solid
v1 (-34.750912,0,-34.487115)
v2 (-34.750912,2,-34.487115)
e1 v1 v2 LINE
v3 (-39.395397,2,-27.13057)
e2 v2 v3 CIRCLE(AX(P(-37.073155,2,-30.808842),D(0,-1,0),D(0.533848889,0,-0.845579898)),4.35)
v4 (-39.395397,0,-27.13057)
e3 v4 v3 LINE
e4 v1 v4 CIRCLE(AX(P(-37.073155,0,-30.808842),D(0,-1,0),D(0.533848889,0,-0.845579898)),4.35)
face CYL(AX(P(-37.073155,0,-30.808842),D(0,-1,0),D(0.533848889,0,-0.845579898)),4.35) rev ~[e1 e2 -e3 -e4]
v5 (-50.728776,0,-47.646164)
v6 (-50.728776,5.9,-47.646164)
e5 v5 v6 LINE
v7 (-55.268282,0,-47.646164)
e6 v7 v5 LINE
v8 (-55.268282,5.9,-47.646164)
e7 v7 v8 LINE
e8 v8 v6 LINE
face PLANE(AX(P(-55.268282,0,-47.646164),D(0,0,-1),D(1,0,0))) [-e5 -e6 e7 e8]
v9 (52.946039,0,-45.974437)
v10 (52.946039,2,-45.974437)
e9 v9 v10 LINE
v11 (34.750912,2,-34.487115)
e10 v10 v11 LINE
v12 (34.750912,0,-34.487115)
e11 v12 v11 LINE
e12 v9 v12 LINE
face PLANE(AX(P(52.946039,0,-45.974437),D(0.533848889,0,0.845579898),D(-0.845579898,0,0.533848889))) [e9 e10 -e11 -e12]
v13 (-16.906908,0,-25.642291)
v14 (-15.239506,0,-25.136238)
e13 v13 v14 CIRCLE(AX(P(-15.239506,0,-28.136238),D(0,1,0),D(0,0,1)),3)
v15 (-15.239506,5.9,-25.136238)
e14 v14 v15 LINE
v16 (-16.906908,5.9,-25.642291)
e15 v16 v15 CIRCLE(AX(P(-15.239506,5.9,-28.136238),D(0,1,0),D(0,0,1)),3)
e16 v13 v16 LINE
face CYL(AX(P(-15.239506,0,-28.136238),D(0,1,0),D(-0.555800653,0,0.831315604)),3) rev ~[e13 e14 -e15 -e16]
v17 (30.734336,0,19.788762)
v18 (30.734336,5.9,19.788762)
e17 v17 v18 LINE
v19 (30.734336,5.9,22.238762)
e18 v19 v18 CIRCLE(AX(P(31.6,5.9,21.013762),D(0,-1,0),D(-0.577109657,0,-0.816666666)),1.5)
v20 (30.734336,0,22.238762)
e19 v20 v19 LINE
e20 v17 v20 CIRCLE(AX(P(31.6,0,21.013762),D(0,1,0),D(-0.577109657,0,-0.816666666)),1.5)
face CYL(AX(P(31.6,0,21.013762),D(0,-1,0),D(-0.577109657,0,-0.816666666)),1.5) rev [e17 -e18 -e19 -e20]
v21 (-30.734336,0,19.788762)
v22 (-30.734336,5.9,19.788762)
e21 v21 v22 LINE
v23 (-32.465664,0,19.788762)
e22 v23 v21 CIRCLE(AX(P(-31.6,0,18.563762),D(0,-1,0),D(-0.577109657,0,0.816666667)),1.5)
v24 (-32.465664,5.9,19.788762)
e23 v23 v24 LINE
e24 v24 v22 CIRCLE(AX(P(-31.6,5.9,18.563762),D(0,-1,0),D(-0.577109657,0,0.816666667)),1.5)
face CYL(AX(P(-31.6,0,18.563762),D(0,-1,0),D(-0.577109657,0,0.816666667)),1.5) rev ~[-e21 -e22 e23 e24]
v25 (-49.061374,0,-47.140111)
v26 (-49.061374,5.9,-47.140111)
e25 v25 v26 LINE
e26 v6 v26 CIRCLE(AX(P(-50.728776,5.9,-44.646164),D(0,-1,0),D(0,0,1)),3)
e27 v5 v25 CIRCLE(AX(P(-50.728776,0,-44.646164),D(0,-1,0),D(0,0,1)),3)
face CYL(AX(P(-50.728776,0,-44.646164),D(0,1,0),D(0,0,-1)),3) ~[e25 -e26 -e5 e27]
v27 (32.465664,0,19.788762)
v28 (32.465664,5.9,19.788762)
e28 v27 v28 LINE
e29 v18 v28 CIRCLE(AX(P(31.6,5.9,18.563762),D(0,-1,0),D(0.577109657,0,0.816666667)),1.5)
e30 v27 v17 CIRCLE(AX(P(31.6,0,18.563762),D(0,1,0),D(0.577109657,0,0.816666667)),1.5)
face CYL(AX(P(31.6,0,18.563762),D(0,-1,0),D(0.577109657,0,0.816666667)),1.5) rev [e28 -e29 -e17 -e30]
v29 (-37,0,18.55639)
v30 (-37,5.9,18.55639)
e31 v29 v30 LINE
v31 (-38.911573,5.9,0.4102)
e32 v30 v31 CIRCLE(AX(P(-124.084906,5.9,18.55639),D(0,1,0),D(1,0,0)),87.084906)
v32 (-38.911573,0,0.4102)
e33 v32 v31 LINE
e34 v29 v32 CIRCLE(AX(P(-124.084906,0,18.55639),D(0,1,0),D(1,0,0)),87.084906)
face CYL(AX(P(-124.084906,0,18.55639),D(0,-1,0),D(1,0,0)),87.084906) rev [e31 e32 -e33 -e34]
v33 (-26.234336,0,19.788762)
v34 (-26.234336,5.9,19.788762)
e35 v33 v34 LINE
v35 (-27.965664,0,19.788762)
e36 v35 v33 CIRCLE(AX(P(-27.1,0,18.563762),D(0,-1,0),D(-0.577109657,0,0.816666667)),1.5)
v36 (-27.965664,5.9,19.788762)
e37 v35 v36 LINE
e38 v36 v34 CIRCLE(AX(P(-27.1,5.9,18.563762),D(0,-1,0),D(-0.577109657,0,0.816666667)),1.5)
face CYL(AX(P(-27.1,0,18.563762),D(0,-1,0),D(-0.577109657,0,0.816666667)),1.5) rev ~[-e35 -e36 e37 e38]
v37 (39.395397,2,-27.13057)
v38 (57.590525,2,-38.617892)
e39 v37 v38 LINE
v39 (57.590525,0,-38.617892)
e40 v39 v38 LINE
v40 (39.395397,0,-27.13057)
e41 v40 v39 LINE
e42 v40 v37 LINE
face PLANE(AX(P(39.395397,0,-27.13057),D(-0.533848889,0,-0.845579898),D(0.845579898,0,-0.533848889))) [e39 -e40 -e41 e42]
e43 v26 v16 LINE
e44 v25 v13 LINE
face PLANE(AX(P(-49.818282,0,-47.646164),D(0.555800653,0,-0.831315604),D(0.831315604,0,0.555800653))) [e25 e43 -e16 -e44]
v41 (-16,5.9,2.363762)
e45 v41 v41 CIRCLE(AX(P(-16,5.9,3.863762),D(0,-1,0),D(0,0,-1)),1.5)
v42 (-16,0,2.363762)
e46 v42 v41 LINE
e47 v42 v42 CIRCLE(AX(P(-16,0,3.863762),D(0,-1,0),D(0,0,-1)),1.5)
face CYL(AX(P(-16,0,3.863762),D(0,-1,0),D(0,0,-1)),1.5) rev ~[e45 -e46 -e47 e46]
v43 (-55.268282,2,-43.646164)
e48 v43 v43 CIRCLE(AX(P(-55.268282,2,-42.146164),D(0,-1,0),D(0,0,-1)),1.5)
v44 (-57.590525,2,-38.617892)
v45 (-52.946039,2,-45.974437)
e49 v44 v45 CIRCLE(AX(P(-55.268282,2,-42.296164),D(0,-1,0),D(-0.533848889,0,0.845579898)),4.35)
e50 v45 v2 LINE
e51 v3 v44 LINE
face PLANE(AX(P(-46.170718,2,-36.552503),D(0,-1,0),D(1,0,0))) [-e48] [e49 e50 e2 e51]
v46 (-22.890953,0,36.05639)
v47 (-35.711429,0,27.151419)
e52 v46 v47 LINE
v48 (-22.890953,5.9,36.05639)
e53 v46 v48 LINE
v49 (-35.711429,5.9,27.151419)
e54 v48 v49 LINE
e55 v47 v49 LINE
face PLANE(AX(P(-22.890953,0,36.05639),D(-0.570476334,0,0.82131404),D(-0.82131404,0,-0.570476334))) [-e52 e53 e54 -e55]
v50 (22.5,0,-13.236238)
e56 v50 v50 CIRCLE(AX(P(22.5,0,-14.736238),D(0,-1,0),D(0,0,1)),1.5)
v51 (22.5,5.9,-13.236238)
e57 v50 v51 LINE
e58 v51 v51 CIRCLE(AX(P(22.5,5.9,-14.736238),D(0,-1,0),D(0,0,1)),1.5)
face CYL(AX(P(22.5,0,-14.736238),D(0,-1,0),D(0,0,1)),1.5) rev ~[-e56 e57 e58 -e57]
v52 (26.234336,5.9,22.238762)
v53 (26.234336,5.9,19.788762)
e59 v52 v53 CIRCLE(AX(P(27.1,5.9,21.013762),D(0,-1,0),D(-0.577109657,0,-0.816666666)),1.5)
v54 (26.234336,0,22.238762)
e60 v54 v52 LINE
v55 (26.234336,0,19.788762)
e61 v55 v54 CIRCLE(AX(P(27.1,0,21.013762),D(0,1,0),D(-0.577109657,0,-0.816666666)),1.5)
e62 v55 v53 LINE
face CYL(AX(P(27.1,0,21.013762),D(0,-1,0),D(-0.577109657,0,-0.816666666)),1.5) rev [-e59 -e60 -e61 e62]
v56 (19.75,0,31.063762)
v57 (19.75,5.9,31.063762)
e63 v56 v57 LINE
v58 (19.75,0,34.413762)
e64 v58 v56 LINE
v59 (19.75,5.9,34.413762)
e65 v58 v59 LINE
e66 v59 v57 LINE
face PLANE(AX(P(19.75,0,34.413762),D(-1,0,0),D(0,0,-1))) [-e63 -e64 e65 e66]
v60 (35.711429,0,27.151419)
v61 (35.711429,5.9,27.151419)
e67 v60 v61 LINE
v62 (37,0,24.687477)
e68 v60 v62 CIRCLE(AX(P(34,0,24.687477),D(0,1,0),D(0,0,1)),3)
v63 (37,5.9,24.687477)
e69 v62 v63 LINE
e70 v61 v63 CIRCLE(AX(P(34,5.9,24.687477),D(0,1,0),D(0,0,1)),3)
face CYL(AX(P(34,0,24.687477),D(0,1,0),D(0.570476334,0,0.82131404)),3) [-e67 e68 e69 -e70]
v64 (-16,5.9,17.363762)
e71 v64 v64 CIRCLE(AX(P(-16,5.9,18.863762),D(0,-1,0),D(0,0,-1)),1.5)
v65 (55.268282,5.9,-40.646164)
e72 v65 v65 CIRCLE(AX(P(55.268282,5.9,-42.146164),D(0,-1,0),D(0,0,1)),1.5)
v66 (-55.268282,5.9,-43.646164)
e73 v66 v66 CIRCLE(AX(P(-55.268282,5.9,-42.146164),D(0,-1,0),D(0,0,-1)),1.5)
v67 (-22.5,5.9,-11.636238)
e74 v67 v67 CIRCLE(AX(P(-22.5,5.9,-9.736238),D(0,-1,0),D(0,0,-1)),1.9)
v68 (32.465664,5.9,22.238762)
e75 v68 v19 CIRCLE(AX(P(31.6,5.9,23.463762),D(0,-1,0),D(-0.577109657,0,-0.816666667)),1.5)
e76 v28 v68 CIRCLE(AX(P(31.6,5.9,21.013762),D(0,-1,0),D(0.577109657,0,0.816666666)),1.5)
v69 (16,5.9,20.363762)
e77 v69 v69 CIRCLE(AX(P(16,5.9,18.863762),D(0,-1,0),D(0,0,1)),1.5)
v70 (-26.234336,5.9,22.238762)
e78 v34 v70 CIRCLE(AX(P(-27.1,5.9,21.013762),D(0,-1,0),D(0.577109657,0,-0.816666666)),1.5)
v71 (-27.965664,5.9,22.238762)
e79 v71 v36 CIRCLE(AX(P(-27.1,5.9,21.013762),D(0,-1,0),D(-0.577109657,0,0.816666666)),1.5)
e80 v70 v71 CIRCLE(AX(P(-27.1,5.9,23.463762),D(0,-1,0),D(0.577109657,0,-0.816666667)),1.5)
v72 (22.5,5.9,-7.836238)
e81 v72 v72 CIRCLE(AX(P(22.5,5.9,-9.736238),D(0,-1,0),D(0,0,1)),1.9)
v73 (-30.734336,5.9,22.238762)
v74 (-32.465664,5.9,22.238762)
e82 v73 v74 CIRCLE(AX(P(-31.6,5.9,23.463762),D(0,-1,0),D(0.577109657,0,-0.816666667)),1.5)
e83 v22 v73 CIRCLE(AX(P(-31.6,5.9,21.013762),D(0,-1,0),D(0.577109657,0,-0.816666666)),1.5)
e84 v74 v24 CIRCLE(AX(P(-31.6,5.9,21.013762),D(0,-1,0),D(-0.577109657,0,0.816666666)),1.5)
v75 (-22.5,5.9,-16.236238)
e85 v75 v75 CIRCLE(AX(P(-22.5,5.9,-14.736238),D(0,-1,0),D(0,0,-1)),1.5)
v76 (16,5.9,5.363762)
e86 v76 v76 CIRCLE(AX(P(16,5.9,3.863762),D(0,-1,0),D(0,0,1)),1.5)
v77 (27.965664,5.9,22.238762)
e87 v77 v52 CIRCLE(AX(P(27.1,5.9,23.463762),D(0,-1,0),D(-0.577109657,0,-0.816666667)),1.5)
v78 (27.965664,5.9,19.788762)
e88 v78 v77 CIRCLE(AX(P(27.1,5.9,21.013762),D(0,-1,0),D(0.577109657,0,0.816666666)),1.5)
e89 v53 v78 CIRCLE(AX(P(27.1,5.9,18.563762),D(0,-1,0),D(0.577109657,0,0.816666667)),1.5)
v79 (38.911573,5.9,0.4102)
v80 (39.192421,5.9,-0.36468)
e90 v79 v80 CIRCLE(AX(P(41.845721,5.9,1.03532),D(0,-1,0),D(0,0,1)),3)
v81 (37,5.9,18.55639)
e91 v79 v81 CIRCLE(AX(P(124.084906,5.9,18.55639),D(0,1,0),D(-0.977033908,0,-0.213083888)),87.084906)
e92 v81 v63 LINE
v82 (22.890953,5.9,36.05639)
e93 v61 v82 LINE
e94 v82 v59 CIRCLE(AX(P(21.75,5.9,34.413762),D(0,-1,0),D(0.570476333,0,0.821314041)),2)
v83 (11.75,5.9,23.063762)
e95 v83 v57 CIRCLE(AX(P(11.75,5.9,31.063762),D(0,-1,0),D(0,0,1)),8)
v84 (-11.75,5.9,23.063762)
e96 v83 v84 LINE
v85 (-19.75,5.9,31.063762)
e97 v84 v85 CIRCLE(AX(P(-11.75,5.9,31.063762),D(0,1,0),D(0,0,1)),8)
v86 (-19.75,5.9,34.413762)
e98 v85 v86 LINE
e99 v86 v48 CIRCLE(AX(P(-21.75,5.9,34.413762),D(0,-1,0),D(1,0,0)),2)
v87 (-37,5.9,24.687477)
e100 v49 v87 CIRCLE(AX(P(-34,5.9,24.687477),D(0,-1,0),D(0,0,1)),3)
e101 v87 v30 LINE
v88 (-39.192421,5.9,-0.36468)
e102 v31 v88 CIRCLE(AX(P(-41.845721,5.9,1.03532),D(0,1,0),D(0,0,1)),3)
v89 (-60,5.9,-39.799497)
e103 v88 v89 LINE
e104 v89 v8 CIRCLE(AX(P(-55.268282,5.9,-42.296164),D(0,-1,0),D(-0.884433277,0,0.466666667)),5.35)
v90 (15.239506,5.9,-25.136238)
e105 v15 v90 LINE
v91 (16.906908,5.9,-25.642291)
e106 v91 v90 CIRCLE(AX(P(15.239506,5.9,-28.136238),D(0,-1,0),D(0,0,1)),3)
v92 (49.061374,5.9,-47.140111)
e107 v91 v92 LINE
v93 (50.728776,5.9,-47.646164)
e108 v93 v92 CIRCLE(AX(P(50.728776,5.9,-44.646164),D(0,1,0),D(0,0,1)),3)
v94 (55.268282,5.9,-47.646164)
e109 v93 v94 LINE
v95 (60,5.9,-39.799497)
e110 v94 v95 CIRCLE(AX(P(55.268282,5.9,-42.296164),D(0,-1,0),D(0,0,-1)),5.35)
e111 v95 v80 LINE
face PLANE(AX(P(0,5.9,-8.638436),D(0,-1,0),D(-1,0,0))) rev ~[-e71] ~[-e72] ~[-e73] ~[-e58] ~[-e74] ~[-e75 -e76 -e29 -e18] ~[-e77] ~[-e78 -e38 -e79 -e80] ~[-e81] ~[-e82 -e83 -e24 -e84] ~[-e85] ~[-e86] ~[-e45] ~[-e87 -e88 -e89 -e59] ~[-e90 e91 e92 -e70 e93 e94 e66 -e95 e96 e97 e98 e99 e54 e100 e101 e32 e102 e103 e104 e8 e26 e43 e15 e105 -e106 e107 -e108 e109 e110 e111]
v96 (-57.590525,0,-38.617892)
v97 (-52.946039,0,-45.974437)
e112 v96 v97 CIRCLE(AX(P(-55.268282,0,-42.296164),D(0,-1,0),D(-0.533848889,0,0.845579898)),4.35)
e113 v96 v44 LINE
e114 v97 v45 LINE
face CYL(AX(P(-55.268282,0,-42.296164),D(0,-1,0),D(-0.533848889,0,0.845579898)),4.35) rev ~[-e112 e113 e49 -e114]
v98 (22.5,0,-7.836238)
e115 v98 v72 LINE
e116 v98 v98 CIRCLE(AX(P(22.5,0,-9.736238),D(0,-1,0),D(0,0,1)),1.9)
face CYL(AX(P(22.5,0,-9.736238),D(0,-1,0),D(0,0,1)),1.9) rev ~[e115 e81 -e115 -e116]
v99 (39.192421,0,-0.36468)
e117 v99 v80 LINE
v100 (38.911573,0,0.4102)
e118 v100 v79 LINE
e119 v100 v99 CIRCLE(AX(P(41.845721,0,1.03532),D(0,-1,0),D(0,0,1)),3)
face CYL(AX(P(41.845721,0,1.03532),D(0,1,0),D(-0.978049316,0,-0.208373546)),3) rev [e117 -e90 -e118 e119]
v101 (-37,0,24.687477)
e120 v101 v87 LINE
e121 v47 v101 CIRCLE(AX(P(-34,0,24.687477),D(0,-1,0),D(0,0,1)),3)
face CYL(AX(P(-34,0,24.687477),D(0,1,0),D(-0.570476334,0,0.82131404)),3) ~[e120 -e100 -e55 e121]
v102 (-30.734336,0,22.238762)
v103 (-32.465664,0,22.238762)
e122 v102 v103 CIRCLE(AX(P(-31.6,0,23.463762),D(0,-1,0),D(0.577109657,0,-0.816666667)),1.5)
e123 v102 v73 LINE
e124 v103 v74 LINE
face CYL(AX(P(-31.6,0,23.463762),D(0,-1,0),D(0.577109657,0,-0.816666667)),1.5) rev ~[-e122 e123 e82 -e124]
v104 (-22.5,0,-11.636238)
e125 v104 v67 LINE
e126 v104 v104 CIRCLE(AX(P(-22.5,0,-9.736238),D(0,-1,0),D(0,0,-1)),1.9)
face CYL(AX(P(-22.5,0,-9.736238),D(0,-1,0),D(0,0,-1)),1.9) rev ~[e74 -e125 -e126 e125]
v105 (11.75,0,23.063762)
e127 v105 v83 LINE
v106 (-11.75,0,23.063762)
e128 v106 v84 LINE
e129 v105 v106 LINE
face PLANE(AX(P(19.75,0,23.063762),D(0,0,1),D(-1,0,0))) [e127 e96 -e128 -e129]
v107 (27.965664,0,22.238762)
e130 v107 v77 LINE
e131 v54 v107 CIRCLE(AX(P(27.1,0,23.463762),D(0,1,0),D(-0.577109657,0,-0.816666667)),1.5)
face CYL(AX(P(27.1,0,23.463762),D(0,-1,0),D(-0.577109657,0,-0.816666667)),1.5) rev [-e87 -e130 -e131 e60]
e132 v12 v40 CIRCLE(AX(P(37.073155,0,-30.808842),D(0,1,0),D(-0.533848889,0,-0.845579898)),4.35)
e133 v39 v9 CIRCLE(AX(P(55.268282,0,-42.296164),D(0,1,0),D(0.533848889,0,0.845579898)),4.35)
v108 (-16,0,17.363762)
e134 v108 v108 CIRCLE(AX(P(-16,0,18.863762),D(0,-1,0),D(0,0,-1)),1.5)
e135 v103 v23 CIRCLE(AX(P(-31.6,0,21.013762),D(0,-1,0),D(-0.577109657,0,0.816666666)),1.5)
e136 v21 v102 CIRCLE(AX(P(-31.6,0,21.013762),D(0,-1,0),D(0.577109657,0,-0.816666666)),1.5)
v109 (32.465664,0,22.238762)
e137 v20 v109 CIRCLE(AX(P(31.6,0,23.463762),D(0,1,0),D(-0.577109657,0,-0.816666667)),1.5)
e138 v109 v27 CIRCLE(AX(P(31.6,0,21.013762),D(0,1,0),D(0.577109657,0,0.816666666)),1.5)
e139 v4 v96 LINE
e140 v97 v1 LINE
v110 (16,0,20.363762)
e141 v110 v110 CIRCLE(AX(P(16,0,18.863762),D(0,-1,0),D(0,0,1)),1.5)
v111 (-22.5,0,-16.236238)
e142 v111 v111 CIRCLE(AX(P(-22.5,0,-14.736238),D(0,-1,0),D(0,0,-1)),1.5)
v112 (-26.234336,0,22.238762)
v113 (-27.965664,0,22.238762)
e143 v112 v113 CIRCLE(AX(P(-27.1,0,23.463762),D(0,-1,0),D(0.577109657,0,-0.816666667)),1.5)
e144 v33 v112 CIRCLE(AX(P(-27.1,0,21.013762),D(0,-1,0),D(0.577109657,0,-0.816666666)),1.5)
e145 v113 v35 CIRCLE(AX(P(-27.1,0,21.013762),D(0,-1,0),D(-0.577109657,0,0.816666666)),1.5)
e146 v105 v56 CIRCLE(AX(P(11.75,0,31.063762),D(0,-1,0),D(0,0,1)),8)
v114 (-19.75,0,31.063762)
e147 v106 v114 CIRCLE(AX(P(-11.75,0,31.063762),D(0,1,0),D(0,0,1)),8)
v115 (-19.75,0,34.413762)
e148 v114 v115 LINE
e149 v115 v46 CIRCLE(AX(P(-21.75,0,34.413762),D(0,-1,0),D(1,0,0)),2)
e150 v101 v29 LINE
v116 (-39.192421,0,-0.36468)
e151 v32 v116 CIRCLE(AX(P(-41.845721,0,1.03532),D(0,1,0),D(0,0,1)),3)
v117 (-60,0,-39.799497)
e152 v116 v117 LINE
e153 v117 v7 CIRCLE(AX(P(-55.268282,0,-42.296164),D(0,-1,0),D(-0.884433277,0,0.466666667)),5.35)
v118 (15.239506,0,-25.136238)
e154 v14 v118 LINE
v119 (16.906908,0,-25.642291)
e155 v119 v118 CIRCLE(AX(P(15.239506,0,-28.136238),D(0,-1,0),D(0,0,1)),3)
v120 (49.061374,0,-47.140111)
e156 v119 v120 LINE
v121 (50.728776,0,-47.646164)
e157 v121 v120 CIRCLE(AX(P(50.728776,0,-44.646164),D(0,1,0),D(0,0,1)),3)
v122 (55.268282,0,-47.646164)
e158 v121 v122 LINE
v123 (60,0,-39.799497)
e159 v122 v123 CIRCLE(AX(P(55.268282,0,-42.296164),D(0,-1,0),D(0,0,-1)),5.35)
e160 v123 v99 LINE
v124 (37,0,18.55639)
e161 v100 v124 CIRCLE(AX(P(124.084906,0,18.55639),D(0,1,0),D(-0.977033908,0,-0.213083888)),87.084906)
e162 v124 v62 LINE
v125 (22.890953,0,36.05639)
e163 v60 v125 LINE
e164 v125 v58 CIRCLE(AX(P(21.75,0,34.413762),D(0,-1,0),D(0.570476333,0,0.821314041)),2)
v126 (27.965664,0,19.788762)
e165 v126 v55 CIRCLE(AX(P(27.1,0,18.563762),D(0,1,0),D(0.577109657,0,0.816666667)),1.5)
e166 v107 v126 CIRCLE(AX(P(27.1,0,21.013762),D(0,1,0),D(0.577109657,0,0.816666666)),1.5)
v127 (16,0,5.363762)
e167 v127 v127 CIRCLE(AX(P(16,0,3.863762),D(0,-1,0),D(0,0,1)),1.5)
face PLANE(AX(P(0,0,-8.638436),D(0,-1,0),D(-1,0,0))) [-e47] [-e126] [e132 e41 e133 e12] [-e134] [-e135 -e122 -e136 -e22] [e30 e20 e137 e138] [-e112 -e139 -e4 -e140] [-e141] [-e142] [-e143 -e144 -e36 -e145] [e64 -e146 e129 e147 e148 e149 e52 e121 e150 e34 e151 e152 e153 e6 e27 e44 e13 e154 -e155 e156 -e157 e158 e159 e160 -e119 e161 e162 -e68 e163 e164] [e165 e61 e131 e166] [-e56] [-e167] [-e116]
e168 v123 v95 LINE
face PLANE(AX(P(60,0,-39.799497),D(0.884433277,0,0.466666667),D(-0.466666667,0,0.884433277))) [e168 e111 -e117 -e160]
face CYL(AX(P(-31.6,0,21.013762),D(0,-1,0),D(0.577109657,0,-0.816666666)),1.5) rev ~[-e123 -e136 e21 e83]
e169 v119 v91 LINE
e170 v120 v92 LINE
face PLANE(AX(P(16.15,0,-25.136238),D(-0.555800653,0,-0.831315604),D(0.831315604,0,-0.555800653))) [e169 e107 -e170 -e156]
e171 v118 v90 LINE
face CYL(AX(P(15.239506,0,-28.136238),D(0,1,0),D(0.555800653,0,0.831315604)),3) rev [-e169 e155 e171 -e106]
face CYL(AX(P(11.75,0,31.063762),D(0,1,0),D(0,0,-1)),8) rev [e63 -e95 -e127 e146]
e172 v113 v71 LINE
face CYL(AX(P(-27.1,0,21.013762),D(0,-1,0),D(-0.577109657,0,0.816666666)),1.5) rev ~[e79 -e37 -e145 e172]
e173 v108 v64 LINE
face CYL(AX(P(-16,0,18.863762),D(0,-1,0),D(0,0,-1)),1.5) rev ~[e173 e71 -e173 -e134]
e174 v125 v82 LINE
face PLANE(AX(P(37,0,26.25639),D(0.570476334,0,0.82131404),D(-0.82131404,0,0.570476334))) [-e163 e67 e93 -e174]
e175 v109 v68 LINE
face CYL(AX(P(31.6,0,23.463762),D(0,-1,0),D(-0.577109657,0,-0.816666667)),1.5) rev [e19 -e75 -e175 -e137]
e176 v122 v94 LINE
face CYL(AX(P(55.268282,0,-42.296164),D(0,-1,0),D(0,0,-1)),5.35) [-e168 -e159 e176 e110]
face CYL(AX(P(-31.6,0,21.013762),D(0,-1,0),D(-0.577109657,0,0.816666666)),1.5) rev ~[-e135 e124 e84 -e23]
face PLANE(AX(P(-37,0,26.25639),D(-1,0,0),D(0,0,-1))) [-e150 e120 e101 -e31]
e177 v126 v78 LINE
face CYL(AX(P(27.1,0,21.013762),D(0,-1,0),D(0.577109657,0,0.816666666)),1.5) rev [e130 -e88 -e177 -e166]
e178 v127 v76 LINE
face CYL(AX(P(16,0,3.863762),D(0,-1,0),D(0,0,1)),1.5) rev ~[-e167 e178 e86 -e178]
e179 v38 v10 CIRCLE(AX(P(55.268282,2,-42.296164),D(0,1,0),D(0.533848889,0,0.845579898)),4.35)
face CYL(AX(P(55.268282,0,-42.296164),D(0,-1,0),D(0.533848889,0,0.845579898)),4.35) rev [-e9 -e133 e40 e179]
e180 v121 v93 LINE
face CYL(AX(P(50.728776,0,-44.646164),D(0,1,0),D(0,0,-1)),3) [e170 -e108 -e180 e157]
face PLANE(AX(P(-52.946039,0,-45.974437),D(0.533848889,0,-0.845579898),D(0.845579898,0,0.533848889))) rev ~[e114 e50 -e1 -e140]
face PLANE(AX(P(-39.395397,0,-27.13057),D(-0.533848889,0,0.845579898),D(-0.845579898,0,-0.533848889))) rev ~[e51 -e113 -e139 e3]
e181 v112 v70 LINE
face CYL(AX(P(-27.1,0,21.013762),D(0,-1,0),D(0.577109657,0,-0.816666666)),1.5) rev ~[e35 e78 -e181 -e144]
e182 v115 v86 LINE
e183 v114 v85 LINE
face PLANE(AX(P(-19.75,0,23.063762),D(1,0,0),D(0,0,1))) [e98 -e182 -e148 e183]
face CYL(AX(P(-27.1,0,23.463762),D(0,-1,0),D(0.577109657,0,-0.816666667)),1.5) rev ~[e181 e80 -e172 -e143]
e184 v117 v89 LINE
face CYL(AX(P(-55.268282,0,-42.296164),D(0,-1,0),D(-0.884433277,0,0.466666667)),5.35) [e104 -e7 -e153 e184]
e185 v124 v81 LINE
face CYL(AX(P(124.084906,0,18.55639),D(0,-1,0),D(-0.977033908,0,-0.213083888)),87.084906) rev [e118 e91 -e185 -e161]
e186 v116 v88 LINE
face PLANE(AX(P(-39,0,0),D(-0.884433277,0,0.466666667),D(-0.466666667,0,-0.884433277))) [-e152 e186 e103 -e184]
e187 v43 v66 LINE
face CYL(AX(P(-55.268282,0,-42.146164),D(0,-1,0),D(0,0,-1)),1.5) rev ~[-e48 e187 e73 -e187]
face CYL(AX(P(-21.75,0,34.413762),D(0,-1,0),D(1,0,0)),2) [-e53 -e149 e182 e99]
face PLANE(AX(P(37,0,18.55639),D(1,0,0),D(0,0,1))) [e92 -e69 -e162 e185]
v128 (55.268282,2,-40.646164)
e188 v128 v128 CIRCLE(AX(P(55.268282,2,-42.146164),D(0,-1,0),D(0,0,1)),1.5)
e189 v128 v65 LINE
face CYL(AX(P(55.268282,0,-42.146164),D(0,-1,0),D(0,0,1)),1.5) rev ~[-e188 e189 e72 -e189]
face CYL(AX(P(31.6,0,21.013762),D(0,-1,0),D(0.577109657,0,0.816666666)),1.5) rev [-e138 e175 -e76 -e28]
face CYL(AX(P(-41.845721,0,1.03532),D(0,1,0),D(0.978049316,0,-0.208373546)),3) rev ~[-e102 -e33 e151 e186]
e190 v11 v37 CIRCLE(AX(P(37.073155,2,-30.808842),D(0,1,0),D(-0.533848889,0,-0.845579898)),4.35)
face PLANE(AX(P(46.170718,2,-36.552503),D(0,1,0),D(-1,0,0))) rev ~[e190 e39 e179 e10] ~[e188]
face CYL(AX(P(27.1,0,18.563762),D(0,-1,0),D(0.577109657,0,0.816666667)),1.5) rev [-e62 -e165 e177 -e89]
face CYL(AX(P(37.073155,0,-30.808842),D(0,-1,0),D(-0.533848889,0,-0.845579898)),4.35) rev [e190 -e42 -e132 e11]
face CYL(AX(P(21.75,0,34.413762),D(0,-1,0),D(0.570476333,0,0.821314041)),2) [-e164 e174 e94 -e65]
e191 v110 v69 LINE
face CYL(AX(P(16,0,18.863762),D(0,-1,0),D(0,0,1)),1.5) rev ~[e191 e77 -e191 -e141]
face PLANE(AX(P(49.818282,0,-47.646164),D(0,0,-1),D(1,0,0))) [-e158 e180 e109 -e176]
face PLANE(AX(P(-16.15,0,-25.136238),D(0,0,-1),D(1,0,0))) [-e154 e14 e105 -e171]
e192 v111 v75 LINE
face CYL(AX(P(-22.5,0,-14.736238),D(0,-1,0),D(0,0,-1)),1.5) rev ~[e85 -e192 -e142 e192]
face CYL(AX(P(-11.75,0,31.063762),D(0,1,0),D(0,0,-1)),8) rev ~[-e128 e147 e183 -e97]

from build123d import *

# Parameters (mm, degrees)
RESSALTO_EXTRUS_O1_DEPTH = 5.9
FILETE1_R                = 8
FILETE2_R                = 3
ESBO_O2_R                = 1.5
CORTE_EXTRUS_O2_DEPTH    = 2
ESBO_O4_R                = 1.5
ESBO_O4_R_2              = 1.9
CORTE_EXTRUS_O3_DEPTH    = 78.327505241


with BuildPart() as part:
    # Esboço1 → Ressalto-extrusão1 (new body)
    with BuildSketch(Plane(origin=(0, 0, 0), x_dir=(1, 0, 0), z_dir=(0, 1, 0))):
        with BuildLine():
            Line((19.75, -23.063762314), (-19.75, -23.063762314))
            Line((-19.75, -23.063762314), (-19.75, -34.413762314))
            ThreePointArc((-19.75, -34.413762314), (-20.823151937, -36.186035619), (-22.890952667, -36.056390395))
            Line((-22.890952667, -36.056390395), (-37, -26.256390395))
            Line((-37, -26.256390395), (-37, -18.556390395))
            ThreePointArc((-37, -18.556390395), (-37.501443682, -9.224461006), (-39, 0))
            Line((-39, 0), (-60, 39.799497484))
            ThreePointArc((-60, 39.799497484), (-59.849748252, 45.058892271), (-55.268281966, 47.646164151))
            Line((-55.268281966, 47.646164151), (-49.818281966, 47.646164151))
            Line((-49.818281966, 47.646164151), (-16.15, 25.136237686))
            Line((-16.15, 25.136237686), (16.15, 25.136237686))
            Line((16.15, 25.136237686), (49.818281966, 47.646164151))
            Line((49.818281966, 47.646164151), (55.268281966, 47.646164151))
            ThreePointArc((55.268281966, 47.646164151), (59.849748252, 45.058892271), (60, 39.799497484))
            Line((60, 39.799497484), (39, 0))
            ThreePointArc((39, 0), (37.501443682, -9.224461006), (37, -18.556390395))
            Line((37, -18.556390395), (37, -26.256390395))
            Line((37, -26.256390395), (22.890952667, -36.056390395))
            ThreePointArc((22.890952667, -36.056390395), (20.823151937, -36.186035619), (19.75, -34.413762314))
            Line((19.75, -34.413762314), (19.75, -23.063762314))
        make_face()
    extrude(amount=RESSALTO_EXTRUS_O1_DEPTH)

    # Filete1
    filete1_edges = [part.edges().sort_by_distance(p)[0] for p in [
        (19.75, 2.95, 23.063762314),
        (-19.75, 2.95, 23.063762314),
    ]]
    fillet(filete1_edges, radius=FILETE1_R)

    # Filete2
    filete2_edges = [part.edges().sort_by_distance(p)[0] for p in [
        (-37, 2.95, 26.256390395),
        (-39, 2.95, 0),
        (-49.818281966, 2.95, -47.646164151),
        (-16.15, 2.95, -25.136237686),
        (16.15, 2.95, -25.136237686),
        (49.818281966, 2.95, -47.646164151),
        (39, 2.95, 0),
        (37, 2.95, 26.256390395),
    ]]
    fillet(filete2_edges, radius=FILETE2_R)

    # Esboço2 → Corte-extrusão2 (cut)
    # profile 1 of 2: a face of its own
    with BuildSketch(Plane.XZ):
        with BuildLine():
            Line((-52.946039299, -45.974436707), (-34.750912081, -34.487114845))
            ThreePointArc((-34.750912081, -34.487114845), (-33.394882191, -28.486599622), (-39.395397414, -27.130569732))
            Line((-39.395397414, -27.130569732), (-57.590524632, -38.617891595))
            ThreePointArc((-57.590524632, -38.617891595), (-58.946554522, -44.618406817), (-52.946039299, -45.974436707))
        make_face()
        with Locations(Location((-55.268281966, -42.146164151, 0), (0, 0, 270))):
            Circle(ESBO_O2_R, mode=Mode.SUBTRACT)
    # profile 2 of 2: a face of its own
    with BuildSketch(Plane.XZ):
        with BuildLine():
            Line((39.395397414, -27.130569732), (57.590524632, -38.617891595))
            ThreePointArc((57.590524632, -38.617891595), (58.946554522, -44.618406817), (52.946039299, -45.974436707))
            Line((52.946039299, -45.974436707), (34.750912081, -34.487114845))
            ThreePointArc((34.750912081, -34.487114845), (33.394882191, -28.486599622), (39.395397414, -27.130569732))
        make_face()
        with Locations(Location((55.268281966, -42.146164151, 0), (0, 0, 90))):
            Circle(ESBO_O2_R, mode=Mode.SUBTRACT)
    extrude(amount=-CORTE_EXTRUS_O2_DEPTH, mode=Mode.SUBTRACT)

    # Esboço4 → Corte-extrusão3 (cut, through all)
    with BuildSketch(Plane.XZ):
        with Locations(Location((-55.268281966, -42.146164151, 0), (0, 0, 270))):
            Circle(ESBO_O4_R)
        with Locations(Location((55.268281966, -42.146164151, 0), (0, 0, 90))):
            Circle(ESBO_O4_R)
        with Locations(Location((-22.5, -14.736237686, 0), (0, 0, 270))):
            Circle(ESBO_O4_R)
        with Locations(Location((-22.5, -9.736237686, 0), (0, 0, 270))):
            Circle(ESBO_O4_R_2)
        with Locations(Location((-16, 3.863762314, 0), (0, 0, 270))):
            Circle(ESBO_O4_R)
        with Locations(Location((-16, 18.863762314, 0), (0, 0, 270))):
            Circle(ESBO_O4_R)
        with Locations(Location((16, 18.863762314, 0), (0, 0, 90))):
            Circle(ESBO_O4_R)
        with Locations(Location((16, 3.863762314, 0), (0, 0, 90))):
            Circle(ESBO_O4_R)
        with Locations(Location((22.5, -9.736237686, 0), (0, 0, 90))):
            Circle(ESBO_O4_R_2)
        with Locations(Location((22.5, -14.736237686, 0), (0, 0, 90))):
            Circle(ESBO_O4_R)
        with BuildLine():
            ThreePointArc((-32.465664485, 19.788762314), (-31.6, 17.063762314), (-30.734335515, 19.788762314))
            ThreePointArc((-30.734335515, 19.788762314), (-30.1, 21.013762314), (-30.734335515, 22.238762314))
            ThreePointArc((-30.734335515, 22.238762314), (-31.6, 24.963762314), (-32.465664485, 22.238762314))
            ThreePointArc((-32.465664485, 22.238762314), (-33.1, 21.013762314), (-32.465664485, 19.788762314))
        make_face()
        with BuildLine():
            ThreePointArc((-27.965664485, 19.788762314), (-27.1, 17.063762314), (-26.234335515, 19.788762314))
            ThreePointArc((-26.234335515, 19.788762314), (-25.6, 21.013762314), (-26.234335515, 22.238762314))
            ThreePointArc((-26.234335515, 22.238762314), (-27.1, 24.963762314), (-27.965664485, 22.238762314))
            ThreePointArc((-27.965664485, 22.238762314), (-28.6, 21.013762314), (-27.965664485, 19.788762314))
        make_face()
        with BuildLine():
            ThreePointArc((26.234335515, 19.788762314), (25.6, 21.013762314), (26.234335515, 22.238762314))
            ThreePointArc((26.234335515, 22.238762314), (27.1, 24.963762314), (27.965664485, 22.238762314))
            ThreePointArc((27.965664485, 22.238762314), (28.6, 21.013762314), (27.965664485, 19.788762314))
            ThreePointArc((27.965664485, 19.788762314), (27.1, 17.063762314), (26.234335515, 19.788762314))
        make_face()
        with BuildLine():
            ThreePointArc((30.734335515, 19.788762314), (30.1, 21.013762314), (30.734335515, 22.238762314))
            ThreePointArc((30.734335515, 22.238762314), (31.6, 24.963762314), (32.465664485, 22.238762314))
            ThreePointArc((32.465664485, 22.238762314), (33.1, 21.013762314), (32.465664485, 19.788762314))
            ThreePointArc((32.465664485, 19.788762314), (31.6, 17.063762314), (30.734335515, 19.788762314))
        make_face()
    extrude(amount=-CORTE_EXTRUS_O3_DEPTH, mode=Mode.SUBTRACT)


solid = part.part
